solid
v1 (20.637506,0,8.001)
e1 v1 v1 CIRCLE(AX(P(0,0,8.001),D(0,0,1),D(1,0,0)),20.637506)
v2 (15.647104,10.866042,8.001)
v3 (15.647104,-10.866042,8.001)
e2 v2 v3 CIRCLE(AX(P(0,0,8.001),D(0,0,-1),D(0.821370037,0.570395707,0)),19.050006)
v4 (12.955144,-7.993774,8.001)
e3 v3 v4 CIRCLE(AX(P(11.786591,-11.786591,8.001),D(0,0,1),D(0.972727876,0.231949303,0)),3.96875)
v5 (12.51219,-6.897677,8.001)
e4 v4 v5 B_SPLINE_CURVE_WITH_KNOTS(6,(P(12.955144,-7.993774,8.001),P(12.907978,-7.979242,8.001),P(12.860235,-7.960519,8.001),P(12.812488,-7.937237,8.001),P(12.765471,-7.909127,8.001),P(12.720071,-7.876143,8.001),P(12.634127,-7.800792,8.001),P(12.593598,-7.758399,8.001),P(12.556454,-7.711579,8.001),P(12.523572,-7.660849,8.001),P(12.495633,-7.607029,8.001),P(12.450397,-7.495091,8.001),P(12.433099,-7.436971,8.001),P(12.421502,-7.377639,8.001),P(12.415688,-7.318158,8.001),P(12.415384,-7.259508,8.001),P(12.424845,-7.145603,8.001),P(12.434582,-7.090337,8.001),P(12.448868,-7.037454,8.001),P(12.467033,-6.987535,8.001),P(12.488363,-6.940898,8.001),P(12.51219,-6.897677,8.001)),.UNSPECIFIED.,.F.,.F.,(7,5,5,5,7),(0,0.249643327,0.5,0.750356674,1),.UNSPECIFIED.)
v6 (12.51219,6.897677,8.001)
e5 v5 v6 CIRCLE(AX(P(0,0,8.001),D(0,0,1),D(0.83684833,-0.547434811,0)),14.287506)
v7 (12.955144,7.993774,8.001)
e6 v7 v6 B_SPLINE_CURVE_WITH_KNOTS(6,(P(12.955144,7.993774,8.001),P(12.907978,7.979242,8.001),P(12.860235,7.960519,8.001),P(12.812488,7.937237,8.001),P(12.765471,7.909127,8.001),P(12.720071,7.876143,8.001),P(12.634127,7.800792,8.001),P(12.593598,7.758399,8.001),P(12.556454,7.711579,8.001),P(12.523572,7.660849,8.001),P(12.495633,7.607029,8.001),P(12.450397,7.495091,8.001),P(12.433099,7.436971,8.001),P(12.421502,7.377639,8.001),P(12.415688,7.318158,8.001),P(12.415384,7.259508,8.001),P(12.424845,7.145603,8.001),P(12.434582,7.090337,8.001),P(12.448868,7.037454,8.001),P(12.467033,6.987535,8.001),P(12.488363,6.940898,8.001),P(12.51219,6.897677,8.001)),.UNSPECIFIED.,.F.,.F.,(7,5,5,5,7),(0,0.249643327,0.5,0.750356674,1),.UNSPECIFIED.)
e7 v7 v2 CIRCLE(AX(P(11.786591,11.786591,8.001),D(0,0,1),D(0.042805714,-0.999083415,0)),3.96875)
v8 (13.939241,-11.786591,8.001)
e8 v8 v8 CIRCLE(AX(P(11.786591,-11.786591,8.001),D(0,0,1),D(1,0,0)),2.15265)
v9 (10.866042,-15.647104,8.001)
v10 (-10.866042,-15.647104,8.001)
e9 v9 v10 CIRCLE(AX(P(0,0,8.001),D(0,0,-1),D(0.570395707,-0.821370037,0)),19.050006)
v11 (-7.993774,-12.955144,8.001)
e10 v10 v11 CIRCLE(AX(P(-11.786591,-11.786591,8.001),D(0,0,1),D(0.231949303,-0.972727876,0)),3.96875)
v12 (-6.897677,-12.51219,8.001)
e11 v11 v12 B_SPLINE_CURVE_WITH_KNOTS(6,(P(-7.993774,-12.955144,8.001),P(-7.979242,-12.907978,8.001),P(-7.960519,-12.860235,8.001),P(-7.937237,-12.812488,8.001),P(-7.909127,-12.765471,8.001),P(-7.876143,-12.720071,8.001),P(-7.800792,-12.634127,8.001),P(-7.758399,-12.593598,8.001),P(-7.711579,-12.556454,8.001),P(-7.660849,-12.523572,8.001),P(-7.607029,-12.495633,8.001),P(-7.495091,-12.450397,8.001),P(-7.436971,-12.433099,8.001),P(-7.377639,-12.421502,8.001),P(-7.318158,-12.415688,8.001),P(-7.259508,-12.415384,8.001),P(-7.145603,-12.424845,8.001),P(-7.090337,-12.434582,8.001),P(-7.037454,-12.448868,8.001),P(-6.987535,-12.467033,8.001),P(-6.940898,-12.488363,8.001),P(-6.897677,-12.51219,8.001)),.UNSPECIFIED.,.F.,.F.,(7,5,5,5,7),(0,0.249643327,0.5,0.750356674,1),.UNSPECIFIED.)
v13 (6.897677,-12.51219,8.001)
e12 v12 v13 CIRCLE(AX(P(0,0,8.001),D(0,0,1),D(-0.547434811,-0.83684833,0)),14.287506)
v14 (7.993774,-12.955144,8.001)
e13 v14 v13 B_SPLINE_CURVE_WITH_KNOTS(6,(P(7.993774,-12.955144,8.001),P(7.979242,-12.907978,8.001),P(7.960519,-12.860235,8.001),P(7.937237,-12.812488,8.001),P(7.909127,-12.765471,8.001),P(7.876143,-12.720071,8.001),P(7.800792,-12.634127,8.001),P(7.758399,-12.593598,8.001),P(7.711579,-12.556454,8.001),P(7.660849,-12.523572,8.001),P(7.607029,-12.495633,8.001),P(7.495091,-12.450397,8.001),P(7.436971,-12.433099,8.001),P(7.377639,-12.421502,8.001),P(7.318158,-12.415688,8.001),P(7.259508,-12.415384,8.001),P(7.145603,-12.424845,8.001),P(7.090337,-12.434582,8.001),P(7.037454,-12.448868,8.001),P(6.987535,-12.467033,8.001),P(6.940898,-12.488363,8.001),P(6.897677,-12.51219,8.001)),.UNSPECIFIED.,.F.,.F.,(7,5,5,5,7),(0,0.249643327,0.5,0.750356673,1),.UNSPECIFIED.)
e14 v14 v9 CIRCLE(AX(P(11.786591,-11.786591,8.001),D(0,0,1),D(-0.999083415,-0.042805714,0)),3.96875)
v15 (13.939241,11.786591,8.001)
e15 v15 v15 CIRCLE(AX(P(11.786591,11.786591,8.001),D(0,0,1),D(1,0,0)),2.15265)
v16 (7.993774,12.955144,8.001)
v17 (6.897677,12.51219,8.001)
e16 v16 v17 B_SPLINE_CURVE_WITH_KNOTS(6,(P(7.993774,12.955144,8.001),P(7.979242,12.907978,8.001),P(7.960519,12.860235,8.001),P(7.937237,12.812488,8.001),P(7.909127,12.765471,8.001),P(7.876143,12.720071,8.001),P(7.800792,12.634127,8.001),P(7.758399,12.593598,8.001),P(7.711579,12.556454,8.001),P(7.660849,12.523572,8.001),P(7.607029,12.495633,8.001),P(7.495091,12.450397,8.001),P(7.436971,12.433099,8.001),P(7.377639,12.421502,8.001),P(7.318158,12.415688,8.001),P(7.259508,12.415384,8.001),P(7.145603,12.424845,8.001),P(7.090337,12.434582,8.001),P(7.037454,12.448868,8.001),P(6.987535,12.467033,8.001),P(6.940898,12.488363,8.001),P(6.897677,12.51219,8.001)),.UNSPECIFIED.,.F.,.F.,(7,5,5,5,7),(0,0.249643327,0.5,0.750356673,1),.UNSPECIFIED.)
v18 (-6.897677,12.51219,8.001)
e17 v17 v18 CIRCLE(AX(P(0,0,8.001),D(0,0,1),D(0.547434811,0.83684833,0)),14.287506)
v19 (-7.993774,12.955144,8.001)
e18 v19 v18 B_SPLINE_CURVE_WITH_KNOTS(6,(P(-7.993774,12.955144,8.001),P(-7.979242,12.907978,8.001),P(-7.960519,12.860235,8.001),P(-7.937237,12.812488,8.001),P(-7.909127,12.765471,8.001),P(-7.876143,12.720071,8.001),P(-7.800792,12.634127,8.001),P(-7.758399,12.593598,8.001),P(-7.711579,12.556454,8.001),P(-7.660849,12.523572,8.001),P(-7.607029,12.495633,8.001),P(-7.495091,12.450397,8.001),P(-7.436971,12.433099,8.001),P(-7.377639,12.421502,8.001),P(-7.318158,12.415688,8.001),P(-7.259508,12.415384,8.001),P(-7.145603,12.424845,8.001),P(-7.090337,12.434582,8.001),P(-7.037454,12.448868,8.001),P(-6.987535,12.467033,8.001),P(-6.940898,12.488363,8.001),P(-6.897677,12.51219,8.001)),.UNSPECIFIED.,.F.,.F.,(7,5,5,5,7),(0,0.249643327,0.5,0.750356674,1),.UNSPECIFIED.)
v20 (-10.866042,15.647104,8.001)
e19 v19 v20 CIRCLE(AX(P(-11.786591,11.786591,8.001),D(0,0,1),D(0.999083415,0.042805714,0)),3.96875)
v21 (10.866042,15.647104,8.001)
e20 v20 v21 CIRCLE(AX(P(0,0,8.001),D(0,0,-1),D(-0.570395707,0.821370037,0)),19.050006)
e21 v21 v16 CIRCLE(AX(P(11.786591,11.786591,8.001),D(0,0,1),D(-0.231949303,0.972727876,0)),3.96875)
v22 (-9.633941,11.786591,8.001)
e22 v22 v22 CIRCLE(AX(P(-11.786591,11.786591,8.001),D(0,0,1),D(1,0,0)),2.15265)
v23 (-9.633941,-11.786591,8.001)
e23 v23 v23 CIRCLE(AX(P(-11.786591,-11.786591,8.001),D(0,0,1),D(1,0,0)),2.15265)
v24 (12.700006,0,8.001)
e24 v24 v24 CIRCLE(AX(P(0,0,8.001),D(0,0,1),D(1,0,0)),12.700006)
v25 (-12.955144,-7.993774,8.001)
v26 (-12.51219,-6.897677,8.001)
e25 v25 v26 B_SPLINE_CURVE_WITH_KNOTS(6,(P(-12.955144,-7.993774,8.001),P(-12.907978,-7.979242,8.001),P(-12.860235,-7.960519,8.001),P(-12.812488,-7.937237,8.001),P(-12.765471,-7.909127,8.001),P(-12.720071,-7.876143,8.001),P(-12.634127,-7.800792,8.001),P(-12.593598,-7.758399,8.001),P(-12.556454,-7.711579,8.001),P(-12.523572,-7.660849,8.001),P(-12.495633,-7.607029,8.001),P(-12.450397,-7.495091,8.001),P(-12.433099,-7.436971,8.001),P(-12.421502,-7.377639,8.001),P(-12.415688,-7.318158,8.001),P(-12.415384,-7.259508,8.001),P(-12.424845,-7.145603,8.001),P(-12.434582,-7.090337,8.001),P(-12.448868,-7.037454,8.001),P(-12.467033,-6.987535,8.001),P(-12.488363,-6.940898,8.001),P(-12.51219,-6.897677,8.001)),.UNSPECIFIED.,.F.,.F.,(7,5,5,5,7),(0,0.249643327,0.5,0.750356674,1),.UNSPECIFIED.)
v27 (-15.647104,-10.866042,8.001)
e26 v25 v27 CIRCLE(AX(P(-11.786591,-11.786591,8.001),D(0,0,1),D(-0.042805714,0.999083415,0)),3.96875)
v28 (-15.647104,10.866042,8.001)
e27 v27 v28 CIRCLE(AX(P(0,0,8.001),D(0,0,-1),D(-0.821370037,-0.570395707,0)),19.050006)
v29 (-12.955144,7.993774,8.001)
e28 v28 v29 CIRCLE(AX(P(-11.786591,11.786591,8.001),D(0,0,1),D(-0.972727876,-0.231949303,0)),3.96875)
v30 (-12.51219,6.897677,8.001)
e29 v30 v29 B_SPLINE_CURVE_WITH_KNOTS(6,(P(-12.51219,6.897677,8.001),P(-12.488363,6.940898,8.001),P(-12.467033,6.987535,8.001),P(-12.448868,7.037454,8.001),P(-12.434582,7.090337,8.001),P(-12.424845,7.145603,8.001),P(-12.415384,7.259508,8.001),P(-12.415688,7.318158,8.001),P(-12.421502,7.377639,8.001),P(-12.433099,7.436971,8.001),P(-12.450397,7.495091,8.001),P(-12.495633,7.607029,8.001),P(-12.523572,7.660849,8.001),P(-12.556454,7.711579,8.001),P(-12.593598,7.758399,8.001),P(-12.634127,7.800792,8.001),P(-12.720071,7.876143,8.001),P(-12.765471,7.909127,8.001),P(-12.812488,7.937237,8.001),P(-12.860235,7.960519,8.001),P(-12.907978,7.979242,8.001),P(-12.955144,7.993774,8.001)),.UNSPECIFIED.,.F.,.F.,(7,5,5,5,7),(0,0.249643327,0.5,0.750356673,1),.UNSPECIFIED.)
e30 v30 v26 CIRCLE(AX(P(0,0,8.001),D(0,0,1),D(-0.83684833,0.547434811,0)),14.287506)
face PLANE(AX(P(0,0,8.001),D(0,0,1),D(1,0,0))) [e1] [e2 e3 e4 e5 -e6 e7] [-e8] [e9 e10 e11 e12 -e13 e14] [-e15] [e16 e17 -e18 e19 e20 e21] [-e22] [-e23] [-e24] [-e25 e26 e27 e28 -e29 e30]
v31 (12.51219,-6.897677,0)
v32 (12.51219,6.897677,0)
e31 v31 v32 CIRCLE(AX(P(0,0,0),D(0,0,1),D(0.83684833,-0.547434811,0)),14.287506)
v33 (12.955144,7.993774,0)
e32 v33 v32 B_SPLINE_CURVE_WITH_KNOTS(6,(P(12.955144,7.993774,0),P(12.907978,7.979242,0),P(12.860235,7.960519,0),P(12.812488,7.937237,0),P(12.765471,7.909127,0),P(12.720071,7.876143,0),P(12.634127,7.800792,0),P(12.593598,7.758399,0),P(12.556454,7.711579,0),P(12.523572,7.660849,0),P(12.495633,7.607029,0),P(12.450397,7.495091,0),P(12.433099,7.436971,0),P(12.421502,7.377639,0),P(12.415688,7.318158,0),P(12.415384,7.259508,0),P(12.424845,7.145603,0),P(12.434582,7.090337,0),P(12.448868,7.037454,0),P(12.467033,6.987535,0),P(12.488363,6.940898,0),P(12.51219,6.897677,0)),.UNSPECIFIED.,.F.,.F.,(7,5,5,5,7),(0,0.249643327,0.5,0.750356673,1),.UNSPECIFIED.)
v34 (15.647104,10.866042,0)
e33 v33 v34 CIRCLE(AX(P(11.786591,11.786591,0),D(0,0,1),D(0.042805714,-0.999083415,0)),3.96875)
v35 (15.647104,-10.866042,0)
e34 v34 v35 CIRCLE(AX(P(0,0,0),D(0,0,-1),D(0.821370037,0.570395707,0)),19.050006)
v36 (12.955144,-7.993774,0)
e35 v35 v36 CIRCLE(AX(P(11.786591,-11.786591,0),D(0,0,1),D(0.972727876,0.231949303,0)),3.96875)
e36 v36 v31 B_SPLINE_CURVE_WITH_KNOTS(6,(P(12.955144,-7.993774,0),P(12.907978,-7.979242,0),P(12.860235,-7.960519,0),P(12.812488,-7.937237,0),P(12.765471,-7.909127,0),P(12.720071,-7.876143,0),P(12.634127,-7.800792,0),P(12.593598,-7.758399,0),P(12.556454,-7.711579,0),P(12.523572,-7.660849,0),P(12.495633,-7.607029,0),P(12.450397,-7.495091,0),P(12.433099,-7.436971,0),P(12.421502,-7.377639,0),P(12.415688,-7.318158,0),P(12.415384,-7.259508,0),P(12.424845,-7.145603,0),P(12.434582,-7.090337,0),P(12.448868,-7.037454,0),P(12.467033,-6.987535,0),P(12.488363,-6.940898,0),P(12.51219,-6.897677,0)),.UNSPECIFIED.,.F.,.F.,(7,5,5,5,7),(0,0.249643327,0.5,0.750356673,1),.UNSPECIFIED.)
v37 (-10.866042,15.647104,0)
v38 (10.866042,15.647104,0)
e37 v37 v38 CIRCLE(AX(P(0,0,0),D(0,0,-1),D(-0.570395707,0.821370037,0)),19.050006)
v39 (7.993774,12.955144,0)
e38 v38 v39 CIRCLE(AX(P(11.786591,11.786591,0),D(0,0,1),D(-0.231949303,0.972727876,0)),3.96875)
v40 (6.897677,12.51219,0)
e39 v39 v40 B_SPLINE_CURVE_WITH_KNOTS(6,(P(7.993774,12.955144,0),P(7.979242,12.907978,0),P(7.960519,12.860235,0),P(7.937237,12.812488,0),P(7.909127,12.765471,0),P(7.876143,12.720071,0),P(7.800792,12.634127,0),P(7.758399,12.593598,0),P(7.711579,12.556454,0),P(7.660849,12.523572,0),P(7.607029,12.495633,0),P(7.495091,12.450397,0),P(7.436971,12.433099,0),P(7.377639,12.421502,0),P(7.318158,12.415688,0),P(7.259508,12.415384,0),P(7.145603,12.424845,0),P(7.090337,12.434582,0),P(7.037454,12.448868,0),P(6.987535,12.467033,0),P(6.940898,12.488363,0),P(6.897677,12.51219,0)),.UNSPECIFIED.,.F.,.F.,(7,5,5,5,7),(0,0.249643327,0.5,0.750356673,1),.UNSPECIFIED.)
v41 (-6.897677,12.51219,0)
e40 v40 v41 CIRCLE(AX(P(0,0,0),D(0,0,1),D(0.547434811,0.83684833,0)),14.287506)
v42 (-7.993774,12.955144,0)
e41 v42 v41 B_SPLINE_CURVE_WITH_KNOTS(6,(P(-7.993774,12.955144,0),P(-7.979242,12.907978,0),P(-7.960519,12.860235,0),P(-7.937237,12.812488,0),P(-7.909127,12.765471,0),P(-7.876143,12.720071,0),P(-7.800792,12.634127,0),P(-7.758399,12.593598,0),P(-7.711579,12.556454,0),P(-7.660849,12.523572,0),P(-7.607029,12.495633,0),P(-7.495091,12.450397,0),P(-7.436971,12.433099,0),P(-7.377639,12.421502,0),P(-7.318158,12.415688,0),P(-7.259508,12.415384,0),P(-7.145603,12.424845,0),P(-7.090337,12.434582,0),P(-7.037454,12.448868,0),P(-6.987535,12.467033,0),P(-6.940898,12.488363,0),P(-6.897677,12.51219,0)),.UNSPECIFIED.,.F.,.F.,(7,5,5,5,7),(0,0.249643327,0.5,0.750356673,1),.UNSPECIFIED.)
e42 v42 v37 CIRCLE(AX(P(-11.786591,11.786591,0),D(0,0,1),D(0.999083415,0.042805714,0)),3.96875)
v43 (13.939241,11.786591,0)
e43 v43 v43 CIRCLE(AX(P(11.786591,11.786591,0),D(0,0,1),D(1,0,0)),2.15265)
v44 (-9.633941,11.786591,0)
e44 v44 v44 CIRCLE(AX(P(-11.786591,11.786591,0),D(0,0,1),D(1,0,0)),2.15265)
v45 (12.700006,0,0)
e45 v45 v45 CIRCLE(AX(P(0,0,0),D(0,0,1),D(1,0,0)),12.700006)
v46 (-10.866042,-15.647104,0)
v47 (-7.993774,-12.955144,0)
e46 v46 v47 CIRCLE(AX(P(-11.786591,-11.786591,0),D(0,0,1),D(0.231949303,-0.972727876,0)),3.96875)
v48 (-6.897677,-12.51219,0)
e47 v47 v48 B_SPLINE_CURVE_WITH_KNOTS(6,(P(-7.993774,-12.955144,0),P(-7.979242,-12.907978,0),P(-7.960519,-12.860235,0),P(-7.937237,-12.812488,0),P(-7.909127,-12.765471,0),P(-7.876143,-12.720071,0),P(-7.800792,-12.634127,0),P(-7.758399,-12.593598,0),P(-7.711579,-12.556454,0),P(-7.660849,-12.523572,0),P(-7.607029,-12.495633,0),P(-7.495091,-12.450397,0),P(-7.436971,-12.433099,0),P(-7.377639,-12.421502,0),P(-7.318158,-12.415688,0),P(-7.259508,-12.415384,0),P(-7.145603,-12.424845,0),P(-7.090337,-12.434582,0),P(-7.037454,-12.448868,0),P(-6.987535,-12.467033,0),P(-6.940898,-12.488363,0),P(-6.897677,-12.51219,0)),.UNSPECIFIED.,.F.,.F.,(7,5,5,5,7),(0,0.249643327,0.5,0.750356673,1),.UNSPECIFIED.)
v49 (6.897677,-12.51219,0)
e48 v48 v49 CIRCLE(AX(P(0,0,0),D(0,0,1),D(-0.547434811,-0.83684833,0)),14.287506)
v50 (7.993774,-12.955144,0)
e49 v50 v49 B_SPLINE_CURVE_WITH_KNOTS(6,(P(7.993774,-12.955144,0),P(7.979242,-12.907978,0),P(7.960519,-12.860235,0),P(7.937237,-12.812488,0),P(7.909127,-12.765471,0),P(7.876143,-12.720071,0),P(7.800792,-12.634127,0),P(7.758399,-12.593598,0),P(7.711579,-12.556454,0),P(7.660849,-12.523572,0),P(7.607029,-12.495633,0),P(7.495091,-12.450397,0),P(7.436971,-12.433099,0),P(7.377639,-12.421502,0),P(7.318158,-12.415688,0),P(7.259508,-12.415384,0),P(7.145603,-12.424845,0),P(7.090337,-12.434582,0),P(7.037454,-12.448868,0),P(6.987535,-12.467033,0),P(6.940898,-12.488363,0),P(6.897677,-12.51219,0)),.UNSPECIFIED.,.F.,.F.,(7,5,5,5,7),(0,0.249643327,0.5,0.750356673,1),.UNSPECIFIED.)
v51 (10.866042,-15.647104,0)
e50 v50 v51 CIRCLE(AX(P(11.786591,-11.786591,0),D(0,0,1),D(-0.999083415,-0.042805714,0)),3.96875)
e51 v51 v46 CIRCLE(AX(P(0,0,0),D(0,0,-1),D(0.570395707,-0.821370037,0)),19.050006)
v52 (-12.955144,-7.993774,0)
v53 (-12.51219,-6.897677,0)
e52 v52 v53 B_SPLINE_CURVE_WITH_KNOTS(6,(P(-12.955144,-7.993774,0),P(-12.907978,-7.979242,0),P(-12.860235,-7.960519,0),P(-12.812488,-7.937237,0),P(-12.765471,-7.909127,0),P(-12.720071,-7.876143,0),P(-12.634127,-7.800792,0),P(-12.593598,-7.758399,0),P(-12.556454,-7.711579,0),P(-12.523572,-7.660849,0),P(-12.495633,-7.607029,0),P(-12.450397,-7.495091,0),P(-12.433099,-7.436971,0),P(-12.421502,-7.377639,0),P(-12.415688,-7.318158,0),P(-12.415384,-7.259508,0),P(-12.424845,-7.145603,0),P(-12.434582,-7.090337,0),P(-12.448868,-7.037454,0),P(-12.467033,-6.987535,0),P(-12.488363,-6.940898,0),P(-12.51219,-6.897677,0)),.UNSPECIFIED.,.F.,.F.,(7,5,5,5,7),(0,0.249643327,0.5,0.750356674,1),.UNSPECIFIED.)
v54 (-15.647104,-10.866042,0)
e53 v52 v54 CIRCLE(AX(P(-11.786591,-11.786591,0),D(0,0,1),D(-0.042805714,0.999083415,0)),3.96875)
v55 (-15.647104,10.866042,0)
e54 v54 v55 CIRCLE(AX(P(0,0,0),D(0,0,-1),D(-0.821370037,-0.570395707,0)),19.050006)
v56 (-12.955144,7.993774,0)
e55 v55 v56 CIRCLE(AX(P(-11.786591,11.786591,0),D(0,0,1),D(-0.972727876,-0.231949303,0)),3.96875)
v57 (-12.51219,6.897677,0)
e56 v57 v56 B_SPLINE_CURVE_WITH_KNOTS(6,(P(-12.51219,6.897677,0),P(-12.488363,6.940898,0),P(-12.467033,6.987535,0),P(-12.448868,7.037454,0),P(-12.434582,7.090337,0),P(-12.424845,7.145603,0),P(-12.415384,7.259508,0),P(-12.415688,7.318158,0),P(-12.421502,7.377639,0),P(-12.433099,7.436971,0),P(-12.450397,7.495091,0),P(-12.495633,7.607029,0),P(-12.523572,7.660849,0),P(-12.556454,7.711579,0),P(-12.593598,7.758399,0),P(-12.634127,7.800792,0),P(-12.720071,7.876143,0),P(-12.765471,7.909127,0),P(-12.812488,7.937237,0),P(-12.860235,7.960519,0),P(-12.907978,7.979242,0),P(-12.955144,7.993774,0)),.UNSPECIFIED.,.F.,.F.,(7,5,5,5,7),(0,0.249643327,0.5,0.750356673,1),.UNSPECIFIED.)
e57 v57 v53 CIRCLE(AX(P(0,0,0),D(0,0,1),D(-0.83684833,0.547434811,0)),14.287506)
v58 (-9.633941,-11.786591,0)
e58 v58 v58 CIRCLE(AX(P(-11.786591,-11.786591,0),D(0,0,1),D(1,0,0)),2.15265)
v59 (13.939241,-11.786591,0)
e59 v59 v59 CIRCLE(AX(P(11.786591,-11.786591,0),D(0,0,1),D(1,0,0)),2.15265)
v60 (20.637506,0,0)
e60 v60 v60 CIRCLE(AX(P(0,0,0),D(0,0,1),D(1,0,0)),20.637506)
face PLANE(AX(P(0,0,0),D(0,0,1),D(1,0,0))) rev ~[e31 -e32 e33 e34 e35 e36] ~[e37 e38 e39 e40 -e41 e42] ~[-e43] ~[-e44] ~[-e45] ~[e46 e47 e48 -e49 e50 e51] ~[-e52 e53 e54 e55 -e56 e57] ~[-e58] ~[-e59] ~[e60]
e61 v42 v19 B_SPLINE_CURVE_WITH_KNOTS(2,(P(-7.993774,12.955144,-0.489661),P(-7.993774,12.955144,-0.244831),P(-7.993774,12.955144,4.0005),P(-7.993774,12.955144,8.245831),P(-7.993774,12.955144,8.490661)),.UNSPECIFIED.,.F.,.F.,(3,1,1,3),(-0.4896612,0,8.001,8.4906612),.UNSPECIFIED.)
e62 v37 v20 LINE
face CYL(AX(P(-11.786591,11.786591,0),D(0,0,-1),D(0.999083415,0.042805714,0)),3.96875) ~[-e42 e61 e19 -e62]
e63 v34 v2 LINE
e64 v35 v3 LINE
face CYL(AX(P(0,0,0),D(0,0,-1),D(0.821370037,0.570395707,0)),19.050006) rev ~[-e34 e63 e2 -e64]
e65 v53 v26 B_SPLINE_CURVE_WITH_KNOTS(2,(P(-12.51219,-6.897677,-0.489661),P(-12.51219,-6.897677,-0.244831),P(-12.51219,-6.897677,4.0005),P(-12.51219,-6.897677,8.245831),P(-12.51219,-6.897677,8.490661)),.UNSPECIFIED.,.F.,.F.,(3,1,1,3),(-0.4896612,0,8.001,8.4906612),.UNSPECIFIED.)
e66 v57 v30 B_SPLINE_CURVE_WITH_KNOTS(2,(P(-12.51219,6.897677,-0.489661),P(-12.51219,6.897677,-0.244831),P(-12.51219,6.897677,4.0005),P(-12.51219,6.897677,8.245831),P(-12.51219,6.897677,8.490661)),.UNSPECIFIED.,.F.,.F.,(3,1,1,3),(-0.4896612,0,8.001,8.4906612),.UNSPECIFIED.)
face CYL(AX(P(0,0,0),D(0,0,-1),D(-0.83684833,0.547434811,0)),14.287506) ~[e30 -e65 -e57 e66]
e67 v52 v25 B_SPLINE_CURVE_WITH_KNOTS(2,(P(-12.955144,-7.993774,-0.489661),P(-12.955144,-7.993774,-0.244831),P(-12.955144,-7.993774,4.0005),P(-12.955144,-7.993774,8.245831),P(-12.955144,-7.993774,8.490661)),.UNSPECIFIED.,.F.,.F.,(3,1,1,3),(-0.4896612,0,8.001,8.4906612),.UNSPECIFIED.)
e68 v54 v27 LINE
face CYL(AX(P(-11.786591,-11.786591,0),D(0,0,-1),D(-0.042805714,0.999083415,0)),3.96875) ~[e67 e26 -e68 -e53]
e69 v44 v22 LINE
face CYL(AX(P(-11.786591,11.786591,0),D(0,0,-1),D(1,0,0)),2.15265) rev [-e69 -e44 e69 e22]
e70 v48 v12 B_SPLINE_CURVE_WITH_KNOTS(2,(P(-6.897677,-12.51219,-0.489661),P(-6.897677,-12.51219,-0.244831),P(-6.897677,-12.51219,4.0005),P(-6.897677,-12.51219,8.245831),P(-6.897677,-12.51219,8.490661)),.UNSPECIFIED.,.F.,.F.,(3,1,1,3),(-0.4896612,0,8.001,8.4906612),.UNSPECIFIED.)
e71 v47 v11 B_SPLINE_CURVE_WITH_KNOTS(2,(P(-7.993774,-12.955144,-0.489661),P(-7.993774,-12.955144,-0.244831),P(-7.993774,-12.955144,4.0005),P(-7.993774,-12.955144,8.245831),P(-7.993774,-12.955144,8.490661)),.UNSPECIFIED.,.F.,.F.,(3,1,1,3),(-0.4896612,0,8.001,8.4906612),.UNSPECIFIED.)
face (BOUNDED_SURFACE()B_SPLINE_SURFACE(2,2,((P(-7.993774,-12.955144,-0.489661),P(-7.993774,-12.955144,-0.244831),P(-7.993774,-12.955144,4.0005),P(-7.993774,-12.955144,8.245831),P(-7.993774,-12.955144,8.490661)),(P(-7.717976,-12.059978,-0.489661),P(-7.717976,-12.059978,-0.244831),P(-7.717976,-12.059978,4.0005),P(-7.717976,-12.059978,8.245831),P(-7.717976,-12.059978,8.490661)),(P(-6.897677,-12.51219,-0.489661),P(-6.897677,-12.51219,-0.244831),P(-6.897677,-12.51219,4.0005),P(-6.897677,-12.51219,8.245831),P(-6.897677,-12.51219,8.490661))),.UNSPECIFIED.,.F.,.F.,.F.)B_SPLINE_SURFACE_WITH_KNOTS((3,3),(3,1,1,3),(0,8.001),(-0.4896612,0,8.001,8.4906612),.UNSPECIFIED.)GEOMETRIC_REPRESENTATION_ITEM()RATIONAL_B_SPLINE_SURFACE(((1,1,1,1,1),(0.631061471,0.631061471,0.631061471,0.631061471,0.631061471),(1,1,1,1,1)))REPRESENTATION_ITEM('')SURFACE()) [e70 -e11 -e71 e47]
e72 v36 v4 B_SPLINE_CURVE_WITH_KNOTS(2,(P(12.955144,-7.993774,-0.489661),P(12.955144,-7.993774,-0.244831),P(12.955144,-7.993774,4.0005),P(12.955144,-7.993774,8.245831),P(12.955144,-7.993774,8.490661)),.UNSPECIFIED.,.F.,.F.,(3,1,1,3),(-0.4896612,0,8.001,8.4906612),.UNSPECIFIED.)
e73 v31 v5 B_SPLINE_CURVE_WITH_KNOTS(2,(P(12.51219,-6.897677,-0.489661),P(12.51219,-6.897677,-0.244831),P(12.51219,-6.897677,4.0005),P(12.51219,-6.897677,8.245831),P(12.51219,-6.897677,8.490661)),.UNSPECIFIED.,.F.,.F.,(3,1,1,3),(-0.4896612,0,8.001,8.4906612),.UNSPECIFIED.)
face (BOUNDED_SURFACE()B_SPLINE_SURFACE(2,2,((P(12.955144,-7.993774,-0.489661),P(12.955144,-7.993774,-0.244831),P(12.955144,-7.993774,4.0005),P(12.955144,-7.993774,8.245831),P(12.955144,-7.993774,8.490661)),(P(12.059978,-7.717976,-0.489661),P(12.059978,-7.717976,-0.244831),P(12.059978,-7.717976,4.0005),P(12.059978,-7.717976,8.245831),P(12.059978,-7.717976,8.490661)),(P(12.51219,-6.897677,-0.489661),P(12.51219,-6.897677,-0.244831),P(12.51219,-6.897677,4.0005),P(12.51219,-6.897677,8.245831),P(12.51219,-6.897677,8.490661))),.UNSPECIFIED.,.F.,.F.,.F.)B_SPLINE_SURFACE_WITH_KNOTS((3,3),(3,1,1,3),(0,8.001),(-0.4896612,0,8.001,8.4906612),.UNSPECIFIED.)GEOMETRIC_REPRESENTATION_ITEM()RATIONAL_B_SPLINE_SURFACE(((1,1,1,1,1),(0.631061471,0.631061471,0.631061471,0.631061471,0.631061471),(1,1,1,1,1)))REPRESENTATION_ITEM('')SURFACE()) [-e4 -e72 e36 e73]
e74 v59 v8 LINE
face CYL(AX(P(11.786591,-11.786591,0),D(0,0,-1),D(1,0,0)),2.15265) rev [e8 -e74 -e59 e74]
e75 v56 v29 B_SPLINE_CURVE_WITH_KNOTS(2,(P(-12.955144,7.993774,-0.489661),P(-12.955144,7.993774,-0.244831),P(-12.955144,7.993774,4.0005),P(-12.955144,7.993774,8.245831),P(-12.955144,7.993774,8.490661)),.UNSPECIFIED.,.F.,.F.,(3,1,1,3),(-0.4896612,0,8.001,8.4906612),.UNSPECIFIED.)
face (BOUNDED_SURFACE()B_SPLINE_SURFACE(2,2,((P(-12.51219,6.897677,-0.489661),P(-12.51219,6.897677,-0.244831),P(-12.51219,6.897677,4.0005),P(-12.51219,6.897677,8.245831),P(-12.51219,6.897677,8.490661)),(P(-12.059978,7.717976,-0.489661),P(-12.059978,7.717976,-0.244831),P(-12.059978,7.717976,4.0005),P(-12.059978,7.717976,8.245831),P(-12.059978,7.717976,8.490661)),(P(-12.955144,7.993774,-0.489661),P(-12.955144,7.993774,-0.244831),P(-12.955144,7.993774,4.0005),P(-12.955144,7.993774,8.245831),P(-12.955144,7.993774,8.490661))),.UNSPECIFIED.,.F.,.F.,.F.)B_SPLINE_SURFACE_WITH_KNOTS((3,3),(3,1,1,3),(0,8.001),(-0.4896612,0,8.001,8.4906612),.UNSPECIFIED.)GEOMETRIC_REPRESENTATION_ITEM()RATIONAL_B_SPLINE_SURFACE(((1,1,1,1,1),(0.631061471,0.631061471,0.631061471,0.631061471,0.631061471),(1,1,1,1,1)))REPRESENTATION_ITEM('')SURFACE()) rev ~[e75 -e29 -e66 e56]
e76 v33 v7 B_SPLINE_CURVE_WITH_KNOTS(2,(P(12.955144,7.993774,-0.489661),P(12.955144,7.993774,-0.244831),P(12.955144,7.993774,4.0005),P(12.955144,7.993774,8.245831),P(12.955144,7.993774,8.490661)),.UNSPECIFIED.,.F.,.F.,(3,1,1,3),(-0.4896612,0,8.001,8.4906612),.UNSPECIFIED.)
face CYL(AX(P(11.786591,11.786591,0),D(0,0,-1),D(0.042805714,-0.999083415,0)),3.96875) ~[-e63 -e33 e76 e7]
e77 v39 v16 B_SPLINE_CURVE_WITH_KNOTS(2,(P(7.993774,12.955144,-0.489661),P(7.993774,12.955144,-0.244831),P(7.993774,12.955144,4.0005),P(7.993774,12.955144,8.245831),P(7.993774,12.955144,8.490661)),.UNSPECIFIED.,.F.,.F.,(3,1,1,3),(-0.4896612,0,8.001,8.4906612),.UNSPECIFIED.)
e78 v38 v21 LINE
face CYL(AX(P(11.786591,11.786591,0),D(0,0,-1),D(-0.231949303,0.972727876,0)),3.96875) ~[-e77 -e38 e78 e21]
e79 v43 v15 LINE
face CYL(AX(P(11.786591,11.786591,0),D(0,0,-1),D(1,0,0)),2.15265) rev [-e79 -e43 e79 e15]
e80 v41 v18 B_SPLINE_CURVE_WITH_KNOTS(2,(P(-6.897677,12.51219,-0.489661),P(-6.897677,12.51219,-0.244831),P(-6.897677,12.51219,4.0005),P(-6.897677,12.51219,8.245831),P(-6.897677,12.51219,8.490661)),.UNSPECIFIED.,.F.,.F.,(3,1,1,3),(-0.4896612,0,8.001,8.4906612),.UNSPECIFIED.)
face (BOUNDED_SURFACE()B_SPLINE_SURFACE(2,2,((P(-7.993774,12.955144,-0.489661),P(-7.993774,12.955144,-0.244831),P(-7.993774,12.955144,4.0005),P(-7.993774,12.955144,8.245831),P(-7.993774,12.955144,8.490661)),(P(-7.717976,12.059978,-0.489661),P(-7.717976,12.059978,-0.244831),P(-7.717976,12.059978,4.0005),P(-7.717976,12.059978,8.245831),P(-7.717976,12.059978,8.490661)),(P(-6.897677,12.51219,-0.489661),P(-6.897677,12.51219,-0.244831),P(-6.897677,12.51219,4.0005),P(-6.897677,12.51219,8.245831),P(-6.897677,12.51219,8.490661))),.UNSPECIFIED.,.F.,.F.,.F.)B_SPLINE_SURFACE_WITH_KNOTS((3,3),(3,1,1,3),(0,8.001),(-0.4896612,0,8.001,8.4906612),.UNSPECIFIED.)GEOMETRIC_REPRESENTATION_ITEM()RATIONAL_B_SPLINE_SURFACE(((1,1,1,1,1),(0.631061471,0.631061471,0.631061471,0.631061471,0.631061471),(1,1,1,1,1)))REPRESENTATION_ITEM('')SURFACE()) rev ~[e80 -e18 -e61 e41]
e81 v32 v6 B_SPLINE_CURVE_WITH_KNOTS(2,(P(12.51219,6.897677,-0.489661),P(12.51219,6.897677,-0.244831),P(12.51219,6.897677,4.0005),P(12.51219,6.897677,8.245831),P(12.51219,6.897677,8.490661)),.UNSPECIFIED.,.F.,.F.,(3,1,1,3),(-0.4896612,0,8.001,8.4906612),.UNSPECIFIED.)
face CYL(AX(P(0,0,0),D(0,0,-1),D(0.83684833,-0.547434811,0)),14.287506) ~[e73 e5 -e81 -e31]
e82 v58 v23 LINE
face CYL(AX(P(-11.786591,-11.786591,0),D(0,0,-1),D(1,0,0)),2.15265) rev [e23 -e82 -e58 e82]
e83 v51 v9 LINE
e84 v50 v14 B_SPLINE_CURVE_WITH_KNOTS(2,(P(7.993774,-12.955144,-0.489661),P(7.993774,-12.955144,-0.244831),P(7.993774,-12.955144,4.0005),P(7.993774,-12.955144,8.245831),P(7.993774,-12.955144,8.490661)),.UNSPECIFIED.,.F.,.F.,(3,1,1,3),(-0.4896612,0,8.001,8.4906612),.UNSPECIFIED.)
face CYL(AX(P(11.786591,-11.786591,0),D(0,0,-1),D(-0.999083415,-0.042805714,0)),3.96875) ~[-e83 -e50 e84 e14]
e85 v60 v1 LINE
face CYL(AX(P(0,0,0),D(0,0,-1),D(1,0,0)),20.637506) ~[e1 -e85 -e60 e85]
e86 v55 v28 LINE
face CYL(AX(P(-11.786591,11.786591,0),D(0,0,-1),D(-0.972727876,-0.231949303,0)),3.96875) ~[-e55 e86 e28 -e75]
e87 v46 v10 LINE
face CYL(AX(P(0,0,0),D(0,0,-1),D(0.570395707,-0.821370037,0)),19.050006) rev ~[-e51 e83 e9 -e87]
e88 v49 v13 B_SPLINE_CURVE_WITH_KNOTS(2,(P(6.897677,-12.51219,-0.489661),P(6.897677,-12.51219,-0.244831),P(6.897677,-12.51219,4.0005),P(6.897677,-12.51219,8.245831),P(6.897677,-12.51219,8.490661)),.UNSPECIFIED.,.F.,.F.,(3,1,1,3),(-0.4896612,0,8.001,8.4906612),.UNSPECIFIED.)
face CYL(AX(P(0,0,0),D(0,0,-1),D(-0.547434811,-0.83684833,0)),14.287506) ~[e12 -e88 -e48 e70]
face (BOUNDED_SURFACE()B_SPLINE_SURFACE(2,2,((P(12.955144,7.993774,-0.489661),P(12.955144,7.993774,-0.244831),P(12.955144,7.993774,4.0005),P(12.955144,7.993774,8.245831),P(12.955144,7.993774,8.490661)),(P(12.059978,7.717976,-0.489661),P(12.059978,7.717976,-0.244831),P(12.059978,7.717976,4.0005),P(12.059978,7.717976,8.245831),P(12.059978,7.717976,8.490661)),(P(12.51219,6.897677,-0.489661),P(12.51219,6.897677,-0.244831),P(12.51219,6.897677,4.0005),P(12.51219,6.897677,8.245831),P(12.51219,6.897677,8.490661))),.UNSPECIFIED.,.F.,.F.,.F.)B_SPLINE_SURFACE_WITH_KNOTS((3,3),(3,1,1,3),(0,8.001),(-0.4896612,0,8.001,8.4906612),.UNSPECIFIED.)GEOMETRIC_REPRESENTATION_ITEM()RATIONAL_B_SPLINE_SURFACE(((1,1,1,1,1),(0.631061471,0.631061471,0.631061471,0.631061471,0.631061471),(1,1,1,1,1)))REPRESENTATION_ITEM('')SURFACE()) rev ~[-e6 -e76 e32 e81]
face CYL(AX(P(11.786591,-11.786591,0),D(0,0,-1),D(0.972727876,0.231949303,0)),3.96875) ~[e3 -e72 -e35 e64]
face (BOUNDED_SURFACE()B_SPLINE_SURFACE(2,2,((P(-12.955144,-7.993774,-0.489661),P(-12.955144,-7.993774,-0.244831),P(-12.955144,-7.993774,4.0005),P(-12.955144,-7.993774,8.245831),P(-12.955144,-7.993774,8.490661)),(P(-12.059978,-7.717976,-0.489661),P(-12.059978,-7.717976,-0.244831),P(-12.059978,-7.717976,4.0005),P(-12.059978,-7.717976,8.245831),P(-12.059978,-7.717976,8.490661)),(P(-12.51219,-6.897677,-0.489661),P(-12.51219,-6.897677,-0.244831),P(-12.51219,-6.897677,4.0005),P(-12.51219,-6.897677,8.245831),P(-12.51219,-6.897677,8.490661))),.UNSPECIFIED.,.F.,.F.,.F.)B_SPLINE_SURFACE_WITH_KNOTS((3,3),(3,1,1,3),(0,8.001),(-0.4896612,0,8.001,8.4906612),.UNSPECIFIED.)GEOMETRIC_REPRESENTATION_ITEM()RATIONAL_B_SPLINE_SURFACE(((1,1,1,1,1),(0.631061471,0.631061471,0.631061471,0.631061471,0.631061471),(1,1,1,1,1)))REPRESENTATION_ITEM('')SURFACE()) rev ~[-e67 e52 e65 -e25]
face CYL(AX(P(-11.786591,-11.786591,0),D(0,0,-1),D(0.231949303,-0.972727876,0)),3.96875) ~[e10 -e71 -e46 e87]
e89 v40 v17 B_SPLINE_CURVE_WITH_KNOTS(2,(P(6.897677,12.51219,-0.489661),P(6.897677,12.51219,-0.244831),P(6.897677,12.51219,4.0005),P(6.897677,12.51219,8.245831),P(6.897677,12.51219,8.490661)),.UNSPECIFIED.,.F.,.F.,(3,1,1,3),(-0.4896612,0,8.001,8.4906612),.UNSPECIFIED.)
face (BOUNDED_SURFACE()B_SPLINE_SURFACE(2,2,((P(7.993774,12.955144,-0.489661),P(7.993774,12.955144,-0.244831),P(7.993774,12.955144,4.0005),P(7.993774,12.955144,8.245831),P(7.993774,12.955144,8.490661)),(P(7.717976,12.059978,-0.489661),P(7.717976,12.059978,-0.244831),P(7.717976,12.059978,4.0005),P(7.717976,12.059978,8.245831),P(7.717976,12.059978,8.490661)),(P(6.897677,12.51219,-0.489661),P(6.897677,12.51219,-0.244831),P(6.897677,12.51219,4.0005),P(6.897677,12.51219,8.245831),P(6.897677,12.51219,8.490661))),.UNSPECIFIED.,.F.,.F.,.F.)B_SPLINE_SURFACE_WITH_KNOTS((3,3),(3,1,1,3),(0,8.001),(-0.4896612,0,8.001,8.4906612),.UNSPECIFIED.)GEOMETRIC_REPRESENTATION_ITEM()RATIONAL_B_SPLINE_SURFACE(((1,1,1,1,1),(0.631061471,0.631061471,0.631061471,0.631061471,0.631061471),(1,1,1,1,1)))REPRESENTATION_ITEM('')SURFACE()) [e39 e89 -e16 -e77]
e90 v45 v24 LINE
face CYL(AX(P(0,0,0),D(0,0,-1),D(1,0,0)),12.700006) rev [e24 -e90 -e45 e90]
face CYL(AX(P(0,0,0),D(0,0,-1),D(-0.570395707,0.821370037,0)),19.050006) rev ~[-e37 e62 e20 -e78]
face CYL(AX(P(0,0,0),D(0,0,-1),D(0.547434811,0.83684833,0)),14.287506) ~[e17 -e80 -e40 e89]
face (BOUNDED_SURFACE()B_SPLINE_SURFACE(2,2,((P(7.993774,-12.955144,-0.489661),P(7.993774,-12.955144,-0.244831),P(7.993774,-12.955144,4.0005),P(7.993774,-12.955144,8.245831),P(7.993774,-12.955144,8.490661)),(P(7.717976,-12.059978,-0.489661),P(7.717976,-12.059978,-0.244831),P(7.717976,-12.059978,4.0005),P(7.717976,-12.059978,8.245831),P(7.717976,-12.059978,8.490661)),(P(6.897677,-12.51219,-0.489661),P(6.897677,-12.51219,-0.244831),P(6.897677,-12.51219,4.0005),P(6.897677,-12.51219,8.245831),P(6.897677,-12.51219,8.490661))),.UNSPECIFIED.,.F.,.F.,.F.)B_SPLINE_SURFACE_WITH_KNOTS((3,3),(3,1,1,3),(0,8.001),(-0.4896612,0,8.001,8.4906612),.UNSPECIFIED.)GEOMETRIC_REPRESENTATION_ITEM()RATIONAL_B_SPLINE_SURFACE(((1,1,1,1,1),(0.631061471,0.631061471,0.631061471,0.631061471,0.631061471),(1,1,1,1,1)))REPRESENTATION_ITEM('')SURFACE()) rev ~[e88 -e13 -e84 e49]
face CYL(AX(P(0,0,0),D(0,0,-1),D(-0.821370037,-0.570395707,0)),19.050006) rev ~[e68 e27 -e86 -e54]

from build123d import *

# Parameters (mm, degrees)
F0_R     = 20.6375062807
F0_R_2   = 2.15265
F0_R_3   = 12.7000062807
F1_DEPTH = 8.001
F3_DEPTH = 8.001
F4_COUNT = 4
F4_ANGLE = 270
F5_R     = 0.762


with BuildPart() as f1:
    # F0 (on Top) → F1 (new body)
    with BuildSketch(Plane.XY):
        Circle(F0_R)
        with Locations((-11.7865906, -11.7865906)):
            Circle(F0_R_2, mode=Mode.SUBTRACT)
        with Locations((11.7865906, -11.7865906)):
            Circle(F0_R_2, mode=Mode.SUBTRACT)
        with Locations((-11.7865906, 11.7865906)):
            Circle(F0_R_2, mode=Mode.SUBTRACT)
        Circle(F0_R_3, mode=Mode.SUBTRACT)
        with Locations((11.7865906, 11.7865906)):
            Circle(F0_R_2, mode=Mode.SUBTRACT)
    extrude(amount=F1_DEPTH)

    # F2 (on face) → F3 (cut, through all)
    with BuildSketch(Plane(origin=(0, 0, 0), x_dir=(1, 0, 0), z_dir=(0, 0, -1))):
        with BuildLine():
            ThreePointArc((10.8660418044, -15.6471043582), (8.7251193967, -14.3121342314), (7.8214782953, -11.9564757766))
            ThreePointArc((7.8214782953, -11.9564757766), (0, -14.2875062807), (-7.8214782953, -11.9564757766))
            ThreePointArc((-7.8214782953, -11.9564757766), (-8.7251193967, -14.3121342314), (-10.8660418044, -15.6471043582))
            ThreePointArc((-10.8660418044, -15.6471043582), (0, -19.0500062807), (10.8660418044, -15.6471043582))
        make_face()
    f3 = extrude(amount=-F3_DEPTH, mode=Mode.SUBTRACT)

    # F4: F3 ×4 about axis
    f4_axis = Axis((0, 0, 0), (0, 0, -1))
    for i in range(1, F4_COUNT):
        add(f3.rotate(f4_axis, i * F4_ANGLE / (F4_COUNT - 1)), mode=Mode.SUBTRACT)

    # F5
    f5_edges = [f1.edges().sort_by_distance(p)[0] for p in [
        (-7.821478, 11.956476, 4.0005),
        (7.821478, 11.956476, 4.0005),
        (-11.956476, -7.821478, 4.0005),
        (-11.956476, 7.821478, 4.0005),
        (-7.821478, -11.956476, 4.0005),
        (7.821478, -11.956476, 4.0005),
        (11.956476, 7.821478, 4.0005),
        (11.956476, -7.821478, 4.0005),
    ]]
    fillet(f5_edges, radius=F5_R)


solid = f1.part
